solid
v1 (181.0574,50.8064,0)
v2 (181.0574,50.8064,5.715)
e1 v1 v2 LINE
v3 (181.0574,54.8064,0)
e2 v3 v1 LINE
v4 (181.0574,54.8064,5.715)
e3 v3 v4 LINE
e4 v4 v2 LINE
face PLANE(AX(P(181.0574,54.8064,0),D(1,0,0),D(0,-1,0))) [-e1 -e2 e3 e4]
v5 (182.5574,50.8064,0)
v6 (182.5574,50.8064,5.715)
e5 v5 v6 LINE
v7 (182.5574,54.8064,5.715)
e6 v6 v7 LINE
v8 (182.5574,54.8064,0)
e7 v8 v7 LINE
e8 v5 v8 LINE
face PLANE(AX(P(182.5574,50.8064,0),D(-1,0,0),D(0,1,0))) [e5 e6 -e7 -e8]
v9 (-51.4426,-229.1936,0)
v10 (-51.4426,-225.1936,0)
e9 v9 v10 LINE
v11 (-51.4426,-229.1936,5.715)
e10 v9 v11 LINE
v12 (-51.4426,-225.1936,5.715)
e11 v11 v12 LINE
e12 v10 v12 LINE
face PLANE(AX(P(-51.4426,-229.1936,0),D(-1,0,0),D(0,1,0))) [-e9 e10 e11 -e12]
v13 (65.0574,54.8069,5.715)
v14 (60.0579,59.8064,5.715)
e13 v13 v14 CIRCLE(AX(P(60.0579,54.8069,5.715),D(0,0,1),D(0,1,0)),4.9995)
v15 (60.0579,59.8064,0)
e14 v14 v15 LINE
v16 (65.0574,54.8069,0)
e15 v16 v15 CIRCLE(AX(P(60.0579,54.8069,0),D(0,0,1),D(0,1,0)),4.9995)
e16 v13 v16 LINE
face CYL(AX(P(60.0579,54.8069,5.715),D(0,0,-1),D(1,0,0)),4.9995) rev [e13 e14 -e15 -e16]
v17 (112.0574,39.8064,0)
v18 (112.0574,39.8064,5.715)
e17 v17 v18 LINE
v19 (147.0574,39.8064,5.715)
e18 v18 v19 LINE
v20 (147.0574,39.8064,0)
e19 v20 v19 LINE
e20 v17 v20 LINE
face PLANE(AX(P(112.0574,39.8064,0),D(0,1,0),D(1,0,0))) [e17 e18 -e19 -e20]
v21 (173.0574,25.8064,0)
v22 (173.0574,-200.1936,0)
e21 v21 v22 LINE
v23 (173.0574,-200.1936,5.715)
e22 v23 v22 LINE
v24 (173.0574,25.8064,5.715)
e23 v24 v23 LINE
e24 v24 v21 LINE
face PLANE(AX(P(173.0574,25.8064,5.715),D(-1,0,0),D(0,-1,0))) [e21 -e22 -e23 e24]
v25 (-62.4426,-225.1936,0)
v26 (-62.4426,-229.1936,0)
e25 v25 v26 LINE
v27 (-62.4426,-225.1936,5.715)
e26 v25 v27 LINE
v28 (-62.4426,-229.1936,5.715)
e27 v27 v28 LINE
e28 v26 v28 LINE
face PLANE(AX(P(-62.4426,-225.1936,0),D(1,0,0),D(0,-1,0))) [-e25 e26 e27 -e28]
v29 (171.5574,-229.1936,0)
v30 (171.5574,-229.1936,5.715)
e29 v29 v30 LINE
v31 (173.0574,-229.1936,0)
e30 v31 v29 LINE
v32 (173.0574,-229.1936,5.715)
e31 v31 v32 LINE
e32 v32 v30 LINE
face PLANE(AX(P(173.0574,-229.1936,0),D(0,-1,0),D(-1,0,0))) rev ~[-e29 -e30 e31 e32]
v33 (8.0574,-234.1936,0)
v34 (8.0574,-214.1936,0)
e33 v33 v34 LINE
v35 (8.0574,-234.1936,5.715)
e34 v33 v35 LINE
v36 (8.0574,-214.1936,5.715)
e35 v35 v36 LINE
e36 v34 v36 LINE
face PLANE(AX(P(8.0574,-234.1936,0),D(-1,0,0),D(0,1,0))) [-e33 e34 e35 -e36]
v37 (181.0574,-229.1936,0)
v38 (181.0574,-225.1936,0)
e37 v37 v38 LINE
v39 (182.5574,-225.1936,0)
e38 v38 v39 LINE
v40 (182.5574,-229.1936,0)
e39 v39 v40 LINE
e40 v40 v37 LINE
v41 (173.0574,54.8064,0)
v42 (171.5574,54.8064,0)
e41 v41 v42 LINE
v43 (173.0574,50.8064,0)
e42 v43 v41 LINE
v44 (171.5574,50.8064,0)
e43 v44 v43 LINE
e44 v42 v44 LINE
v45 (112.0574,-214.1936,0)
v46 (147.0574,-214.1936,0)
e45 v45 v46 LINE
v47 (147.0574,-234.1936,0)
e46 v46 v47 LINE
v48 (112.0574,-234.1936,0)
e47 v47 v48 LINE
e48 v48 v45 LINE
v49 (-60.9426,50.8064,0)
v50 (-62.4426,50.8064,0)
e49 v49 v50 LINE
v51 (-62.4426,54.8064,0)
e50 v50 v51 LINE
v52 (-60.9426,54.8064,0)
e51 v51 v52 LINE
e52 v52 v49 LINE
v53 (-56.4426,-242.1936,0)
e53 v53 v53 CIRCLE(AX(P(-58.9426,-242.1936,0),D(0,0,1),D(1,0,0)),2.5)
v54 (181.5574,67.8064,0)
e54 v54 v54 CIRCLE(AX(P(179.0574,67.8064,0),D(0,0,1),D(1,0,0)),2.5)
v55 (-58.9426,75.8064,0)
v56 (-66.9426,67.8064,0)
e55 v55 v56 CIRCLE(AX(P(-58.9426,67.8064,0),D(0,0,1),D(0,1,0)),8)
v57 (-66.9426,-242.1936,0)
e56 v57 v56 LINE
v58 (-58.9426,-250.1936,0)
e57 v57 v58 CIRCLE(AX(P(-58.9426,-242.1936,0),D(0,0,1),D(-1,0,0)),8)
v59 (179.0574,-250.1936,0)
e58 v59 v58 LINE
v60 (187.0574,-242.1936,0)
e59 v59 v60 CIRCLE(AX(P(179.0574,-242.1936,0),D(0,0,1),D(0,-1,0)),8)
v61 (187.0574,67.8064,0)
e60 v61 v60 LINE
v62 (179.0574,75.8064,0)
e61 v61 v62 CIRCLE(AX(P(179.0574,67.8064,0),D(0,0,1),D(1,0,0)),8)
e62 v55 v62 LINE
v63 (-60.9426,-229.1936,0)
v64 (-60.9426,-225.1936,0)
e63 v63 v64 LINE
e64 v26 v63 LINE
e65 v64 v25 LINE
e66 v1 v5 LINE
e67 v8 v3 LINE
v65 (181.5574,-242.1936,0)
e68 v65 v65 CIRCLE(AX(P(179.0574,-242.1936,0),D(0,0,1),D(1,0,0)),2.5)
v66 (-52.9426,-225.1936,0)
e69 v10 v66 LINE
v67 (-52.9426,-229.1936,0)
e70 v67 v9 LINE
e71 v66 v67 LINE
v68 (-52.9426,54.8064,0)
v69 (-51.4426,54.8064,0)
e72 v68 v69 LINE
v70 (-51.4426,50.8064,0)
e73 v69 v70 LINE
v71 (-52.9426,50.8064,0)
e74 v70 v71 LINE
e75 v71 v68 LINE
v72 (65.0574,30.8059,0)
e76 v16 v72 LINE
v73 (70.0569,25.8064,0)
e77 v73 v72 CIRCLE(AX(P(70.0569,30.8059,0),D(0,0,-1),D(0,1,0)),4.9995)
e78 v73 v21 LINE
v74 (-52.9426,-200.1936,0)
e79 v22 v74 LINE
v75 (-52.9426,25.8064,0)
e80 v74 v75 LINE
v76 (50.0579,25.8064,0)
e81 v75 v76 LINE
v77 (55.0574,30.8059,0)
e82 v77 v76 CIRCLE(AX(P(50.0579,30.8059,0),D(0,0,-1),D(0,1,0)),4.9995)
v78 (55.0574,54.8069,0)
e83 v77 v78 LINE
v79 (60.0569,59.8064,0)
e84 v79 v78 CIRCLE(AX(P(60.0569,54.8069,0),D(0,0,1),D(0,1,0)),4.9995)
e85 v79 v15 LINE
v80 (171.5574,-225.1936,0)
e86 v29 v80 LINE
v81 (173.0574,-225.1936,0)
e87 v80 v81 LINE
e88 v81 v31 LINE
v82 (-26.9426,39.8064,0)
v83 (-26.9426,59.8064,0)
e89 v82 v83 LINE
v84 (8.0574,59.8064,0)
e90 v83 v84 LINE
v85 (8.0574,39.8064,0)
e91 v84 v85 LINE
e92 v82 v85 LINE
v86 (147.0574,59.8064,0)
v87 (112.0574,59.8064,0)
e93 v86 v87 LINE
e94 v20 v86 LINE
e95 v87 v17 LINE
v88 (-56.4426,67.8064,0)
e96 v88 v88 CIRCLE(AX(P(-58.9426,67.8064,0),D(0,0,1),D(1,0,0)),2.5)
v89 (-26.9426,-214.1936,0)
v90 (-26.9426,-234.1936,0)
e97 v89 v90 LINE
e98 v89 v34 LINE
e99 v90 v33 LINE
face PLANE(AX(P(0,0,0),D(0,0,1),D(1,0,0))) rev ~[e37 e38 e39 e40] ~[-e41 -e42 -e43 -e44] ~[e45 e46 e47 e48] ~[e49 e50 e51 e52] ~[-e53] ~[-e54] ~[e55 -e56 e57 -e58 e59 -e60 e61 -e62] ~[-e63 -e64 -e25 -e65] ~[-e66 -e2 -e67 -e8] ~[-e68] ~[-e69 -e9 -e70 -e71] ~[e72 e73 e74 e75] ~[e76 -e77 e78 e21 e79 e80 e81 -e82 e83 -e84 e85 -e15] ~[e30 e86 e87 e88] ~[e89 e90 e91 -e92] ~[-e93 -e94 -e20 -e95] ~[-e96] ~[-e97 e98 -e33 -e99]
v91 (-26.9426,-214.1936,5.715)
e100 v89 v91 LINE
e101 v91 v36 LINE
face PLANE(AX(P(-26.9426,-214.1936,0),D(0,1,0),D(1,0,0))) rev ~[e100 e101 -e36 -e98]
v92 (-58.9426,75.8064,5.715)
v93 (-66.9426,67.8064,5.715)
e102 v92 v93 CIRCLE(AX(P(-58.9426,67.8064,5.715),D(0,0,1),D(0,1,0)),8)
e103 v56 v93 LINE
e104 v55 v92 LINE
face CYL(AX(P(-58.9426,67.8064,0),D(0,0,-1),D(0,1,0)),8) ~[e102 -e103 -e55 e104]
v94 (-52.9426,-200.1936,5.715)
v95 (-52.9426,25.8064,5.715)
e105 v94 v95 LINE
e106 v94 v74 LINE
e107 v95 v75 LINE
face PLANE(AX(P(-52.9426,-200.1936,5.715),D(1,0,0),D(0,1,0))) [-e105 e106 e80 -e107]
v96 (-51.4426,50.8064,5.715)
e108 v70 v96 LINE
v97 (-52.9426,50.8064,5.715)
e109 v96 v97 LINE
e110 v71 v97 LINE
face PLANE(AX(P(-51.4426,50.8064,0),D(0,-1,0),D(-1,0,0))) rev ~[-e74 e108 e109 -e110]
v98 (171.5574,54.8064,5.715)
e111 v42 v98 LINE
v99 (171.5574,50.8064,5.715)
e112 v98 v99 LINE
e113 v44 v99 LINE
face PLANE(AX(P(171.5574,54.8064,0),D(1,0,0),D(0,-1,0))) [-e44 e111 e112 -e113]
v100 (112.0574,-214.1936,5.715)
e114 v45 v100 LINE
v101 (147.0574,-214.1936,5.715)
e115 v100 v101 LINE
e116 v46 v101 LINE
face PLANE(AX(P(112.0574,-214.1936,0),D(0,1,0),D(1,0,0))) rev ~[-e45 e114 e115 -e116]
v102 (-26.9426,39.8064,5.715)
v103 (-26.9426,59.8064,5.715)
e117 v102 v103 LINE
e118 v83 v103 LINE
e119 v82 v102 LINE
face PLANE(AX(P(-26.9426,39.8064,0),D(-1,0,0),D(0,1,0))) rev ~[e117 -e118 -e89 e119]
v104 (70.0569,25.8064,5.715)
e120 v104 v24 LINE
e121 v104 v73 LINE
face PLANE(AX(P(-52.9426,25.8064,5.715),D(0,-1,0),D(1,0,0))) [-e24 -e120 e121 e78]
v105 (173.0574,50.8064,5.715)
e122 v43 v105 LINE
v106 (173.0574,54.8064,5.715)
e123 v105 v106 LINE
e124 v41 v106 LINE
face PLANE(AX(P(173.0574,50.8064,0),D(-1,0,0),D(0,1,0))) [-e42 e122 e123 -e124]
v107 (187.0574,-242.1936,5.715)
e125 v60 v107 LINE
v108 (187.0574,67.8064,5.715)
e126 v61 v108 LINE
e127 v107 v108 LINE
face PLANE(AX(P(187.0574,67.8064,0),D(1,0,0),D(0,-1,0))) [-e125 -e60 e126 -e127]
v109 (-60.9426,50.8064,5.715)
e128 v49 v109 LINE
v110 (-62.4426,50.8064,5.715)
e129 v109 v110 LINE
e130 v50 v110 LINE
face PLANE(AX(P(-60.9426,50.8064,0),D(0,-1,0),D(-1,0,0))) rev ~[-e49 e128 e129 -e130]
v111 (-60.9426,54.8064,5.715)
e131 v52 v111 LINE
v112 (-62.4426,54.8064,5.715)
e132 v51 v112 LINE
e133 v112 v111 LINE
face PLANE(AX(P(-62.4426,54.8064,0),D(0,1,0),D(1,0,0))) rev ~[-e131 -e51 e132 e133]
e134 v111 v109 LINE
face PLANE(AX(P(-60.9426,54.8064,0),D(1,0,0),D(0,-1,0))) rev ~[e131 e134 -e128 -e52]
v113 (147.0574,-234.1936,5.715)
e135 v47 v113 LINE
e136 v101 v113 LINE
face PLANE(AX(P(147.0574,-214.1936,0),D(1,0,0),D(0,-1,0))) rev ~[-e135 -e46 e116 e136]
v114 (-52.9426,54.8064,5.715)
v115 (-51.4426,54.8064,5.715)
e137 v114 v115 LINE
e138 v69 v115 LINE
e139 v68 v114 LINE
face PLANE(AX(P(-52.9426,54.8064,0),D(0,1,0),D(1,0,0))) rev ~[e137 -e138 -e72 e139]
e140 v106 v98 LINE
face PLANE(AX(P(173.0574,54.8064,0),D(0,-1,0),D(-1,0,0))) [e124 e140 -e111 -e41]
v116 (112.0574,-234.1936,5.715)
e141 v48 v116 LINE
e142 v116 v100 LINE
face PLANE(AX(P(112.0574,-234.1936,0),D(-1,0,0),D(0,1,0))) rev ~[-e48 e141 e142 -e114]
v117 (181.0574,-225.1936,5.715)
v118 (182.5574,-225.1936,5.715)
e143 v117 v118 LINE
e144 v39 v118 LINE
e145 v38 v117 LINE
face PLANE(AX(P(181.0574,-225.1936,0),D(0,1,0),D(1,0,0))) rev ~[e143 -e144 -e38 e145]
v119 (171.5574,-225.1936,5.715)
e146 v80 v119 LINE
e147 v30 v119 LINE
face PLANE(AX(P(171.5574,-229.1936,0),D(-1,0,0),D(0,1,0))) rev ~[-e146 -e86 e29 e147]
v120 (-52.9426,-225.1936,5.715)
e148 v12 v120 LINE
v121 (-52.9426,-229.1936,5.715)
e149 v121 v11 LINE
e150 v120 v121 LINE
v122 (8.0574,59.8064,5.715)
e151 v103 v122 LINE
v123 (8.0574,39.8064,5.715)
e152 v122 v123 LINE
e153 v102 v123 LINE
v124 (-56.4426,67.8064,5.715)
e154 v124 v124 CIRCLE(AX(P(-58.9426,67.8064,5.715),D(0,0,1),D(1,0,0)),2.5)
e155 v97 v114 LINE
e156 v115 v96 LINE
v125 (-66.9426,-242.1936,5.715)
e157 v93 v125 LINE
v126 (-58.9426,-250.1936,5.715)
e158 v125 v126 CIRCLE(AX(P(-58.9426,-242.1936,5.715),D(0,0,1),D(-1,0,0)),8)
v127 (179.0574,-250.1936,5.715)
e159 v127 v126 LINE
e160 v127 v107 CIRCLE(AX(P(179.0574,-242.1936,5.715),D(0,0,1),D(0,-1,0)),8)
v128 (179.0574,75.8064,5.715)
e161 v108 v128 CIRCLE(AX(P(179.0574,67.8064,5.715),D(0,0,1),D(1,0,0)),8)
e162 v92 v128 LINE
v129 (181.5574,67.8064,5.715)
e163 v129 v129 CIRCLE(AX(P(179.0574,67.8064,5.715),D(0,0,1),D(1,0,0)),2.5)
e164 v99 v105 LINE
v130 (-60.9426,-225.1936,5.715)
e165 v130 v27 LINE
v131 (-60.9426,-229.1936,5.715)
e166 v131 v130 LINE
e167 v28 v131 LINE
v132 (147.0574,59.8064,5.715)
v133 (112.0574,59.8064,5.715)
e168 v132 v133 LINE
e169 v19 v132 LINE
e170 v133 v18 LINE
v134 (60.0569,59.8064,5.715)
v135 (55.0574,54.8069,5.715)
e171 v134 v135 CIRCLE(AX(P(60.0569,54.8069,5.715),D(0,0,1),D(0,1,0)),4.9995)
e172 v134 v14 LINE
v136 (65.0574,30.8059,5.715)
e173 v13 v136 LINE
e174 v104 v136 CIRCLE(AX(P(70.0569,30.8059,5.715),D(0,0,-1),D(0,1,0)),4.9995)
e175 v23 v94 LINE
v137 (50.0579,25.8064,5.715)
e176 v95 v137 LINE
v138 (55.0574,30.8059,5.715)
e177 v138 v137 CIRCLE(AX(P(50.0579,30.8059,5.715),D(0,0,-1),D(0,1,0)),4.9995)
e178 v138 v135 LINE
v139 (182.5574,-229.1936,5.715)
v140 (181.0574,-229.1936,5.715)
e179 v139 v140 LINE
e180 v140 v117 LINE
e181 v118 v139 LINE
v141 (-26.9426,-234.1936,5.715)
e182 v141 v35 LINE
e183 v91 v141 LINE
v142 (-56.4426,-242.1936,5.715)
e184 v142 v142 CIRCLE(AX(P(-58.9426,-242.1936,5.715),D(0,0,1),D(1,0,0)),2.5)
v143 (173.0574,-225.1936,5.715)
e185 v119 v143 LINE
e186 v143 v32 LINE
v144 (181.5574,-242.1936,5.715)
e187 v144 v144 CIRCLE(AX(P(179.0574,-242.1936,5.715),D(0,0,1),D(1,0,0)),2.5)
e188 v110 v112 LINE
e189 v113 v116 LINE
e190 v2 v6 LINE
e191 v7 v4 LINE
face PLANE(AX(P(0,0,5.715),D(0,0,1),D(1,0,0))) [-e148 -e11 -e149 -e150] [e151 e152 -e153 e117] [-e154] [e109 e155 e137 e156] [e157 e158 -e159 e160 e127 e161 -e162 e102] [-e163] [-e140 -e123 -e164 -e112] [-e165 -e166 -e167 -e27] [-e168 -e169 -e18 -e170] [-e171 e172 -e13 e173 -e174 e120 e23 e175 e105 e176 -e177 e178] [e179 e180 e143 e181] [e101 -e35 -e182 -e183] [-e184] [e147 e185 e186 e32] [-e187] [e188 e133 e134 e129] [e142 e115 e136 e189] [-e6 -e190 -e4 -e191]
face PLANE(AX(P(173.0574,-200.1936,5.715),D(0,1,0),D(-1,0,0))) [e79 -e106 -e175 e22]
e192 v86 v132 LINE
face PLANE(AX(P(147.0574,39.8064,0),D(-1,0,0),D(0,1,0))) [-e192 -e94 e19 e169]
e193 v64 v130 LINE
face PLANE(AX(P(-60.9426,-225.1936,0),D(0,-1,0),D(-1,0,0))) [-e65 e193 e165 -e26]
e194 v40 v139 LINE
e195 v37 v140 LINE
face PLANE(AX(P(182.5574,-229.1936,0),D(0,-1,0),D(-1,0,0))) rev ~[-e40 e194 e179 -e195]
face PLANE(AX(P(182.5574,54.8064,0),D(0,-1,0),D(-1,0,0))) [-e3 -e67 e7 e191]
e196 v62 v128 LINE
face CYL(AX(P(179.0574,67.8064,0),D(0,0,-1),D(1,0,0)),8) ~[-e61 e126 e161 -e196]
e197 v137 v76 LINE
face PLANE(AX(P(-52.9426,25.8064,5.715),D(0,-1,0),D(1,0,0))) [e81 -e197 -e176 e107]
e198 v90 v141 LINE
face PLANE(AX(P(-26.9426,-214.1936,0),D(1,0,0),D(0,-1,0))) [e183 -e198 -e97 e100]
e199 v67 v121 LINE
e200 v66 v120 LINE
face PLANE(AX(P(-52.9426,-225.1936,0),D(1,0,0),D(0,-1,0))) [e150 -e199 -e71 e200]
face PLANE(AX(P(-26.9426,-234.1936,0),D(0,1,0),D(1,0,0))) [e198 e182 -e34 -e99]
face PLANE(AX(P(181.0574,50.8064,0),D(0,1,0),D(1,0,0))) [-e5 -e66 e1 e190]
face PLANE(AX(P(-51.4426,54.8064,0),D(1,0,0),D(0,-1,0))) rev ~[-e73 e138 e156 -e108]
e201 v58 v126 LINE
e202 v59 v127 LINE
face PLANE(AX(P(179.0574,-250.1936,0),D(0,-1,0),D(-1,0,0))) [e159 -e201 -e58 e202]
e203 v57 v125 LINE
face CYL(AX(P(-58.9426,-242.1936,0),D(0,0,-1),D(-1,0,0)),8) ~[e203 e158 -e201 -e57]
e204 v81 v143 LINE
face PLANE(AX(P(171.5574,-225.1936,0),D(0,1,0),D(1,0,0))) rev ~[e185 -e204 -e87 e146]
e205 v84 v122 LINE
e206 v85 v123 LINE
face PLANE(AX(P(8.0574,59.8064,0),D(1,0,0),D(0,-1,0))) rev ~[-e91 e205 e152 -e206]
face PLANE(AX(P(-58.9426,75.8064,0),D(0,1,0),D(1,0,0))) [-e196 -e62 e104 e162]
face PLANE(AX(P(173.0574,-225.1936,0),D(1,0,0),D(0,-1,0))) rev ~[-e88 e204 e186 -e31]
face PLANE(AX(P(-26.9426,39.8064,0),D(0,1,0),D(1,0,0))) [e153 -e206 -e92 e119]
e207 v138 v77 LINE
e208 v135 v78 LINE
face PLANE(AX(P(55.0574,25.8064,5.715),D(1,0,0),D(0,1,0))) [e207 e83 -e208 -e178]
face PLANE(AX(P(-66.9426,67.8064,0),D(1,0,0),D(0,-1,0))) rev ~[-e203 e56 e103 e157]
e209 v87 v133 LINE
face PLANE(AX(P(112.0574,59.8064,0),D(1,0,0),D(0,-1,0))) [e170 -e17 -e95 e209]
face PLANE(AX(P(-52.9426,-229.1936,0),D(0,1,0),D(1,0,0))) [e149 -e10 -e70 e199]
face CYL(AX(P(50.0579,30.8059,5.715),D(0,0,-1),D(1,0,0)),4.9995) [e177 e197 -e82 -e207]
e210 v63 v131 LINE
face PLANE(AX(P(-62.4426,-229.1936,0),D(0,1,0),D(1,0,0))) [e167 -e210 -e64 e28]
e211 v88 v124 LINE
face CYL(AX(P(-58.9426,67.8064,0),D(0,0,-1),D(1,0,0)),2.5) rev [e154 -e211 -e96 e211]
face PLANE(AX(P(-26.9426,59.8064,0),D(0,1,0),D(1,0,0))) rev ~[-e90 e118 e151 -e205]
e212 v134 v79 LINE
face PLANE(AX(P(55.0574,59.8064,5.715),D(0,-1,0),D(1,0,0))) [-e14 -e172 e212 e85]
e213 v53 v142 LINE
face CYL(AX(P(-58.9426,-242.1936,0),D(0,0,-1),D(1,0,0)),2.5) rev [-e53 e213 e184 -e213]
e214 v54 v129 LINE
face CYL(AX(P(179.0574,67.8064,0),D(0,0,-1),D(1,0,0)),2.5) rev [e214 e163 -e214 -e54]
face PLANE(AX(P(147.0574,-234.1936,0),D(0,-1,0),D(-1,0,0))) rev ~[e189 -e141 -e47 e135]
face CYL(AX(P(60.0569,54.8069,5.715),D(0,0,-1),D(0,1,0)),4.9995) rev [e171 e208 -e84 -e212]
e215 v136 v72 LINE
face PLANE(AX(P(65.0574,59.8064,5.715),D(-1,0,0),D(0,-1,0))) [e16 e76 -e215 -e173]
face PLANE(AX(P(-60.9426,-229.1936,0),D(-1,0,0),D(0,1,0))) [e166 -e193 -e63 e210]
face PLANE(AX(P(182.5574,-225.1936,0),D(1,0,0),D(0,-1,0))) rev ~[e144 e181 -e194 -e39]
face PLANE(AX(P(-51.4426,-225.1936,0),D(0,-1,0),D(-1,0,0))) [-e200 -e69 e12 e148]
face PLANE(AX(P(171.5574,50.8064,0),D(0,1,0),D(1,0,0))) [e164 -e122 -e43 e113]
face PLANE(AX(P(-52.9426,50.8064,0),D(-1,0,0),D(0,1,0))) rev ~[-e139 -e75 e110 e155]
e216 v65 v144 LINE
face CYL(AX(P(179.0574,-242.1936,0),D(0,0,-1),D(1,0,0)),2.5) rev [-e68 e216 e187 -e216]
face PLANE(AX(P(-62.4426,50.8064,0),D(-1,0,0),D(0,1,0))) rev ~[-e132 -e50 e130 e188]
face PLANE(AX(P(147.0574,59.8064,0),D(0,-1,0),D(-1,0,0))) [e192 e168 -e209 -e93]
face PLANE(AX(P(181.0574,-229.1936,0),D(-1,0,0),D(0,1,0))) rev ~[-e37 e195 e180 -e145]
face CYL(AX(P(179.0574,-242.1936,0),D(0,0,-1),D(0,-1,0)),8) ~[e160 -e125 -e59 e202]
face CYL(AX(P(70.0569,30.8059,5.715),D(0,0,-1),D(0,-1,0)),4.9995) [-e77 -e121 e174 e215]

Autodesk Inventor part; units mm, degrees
ref_plane "YZ Plane" through (0, 0, 0) normal (1, 0, 0) x (0, 1, 0)
ref_plane "XZ Plane" through (0, 0, 0) normal (0, 1, 0) x (-1, 0, 0)
ref_plane "XY Plane" through (0, 0, 0) normal (0, 0, 1) x (1, 0, 0)
sketch "Sketch3" plane through (0, 0, 0) normal (0, 0, 1) x (1, 0, 0)
  line L0 (181.0574, -229.1936) -> (181.0574, -225.1936) projected
  line L1 (181.0574, -225.1936) -> (182.5574, -225.1936) projected
  line L2 (182.5574, -225.1936) -> (182.5574, -229.1936) projected
  line L3 (182.5574, -229.1936) -> (181.0574, -229.1936) projected
  line L4 (171.5574, -229.1936) -> (171.5574, -225.1936) projected
  line L5 (171.5574, -225.1936) -> (173.0574, -225.1936) projected
  line L6 (173.0574, -225.1936) -> (173.0574, -229.1936) projected
  line L7 (173.0574, -229.1936) -> (171.5574, -229.1936) projected
  circle A0 centre (179.0574, -242.1936) radius 2.5 projected
  line L8 (112.0574, -234.1936) -> (112.0574, -194.1936) projected
  line L9 (112.0574, -194.1936) -> (147.0574, -194.1936) projected
  line L10 (147.0574, -194.1936) -> (147.0574, -234.1936) projected
  line L11 (147.0574, -234.1936) -> (112.0574, -234.1936) projected
  line L12 (181.0574, 54.8064) -> (181.0574, 50.8064) projected
  line L13 (182.5574, 54.8064) -> (181.0574, 54.8064) projected
  line L14 (182.5574, 50.8064) -> (182.5574, 54.8064) projected
  line L15 (181.0574, 50.8064) -> (182.5574, 50.8064) projected
  line L16 (171.5574, 54.8064) -> (171.5574, 50.8064) projected
  line L17 (173.0574, 54.8064) -> (171.5574, 54.8064) projected
  line L18 (173.0574, 50.8064) -> (173.0574, 54.8064) projected
  line L19 (171.5574, 50.8064) -> (173.0574, 50.8064) projected
  circle A1 centre (179.0574, 67.8064) radius 2.5 projected
  line L20 (112.0574, 59.8064) -> (112.0574, 19.8064) projected
  line L21 (147.0574, 59.8064) -> (112.0574, 59.8064) projected
  line L22 (147.0574, 19.8064) -> (147.0574, 59.8064) projected
  line L23 (112.0574, 19.8064) -> (147.0574, 19.8064) projected
  line L24 (-60.9426, -229.1936) -> (-60.9426, -225.1936) projected
  line L25 (-62.4426, -229.1936) -> (-60.9426, -229.1936) projected
  line L26 (-62.4426, -225.1936) -> (-62.4426, -229.1936) projected
  line L27 (-60.9426, -225.1936) -> (-62.4426, -225.1936) projected
  line L28 (-51.4426, -229.1936) -> (-51.4426, -225.1936) projected
  line L29 (-52.9426, -229.1936) -> (-51.4426, -229.1936) projected
  line L30 (-52.9426, -225.1936) -> (-52.9426, -229.1936) projected
  line L31 (-51.4426, -225.1936) -> (-52.9426, -225.1936) projected
  circle A2 centre (-58.9426, -242.1936) radius 2.5 projected
  line L32 (8.0574, -234.1936) -> (8.0574, -194.1936) projected
  line L33 (-26.9426, -234.1936) -> (8.0574, -234.1936) projected
  line L34 (-26.9426, -194.1936) -> (-26.9426, -234.1936) projected
  line L35 (8.0574, -194.1936) -> (-26.9426, -194.1936) projected
  arc A3 (-66.9426, 49.8064) -> (-64.9426, 47.8064) centre (-64.9426, 49.8064) ccw projected
  line L36 (-64.9426, 47.8064) -> (-58.9426, 47.8064) projected
  line L37 (-58.9426, 47.8064) -> (-58.9426, 57.8064) projected
  line L38 (-58.9426, 57.8064) -> (-54.9426, 57.8064) projected
  line L39 (-54.9426, 57.8064) -> (-54.9426, 47.8064) projected
  line L40 (-54.9426, 47.8064) -> (-48.9426, 47.8064) projected
  arc A4 (-46.9426, 45.8064) -> (-48.9426, 47.8064) centre (-48.9426, 45.8064) ccw projected
  line L41 (-46.9426, 45.8064) -> (-46.9426, -220.1936) projected
  arc A5 (-48.9426, -222.1936) -> (-46.9426, -220.1936) centre (-48.9426, -220.1936) ccw projected
  line L42 (-54.9426, -222.1936) -> (-48.9426, -222.1936) projected
  line L43 (-54.9426, -232.1936) -> (-54.9426, -222.1936) projected
  line L44 (-58.9426, -232.1936) -> (-54.9426, -232.1936) projected
  line L45 (-58.9426, -222.1936) -> (-58.9426, -232.1936) projected
  line L46 (-64.9426, -222.1936) -> (-58.9426, -222.1936) projected
  arc A6 (-64.9426, -222.1936) -> (-66.9426, -224.1936) centre (-64.9426, -224.1936) ccw projected
  line L47 (-66.9426, -242.1936) -> (-66.9426, -224.1936) projected
  arc A7 (-66.9426, -242.1936) -> (-58.9426, -250.1936) centre (-58.9426, -242.1936) ccw projected
  line L48 (179.0574, -250.1936) -> (-58.9426, -250.1936) projected
  arc A8 (179.0574, -250.1936) -> (187.0574, -242.1936) centre (179.0574, -242.1936) ccw projected
  line L49 (187.0574, -242.1936) -> (187.0574, -224.1936) projected
  arc A9 (187.0574, -224.1936) -> (185.0574, -222.1936) centre (185.0574, -224.1936) ccw projected
  line L50 (185.0574, -222.1936) -> (179.0574, -222.1936) projected
  line L51 (179.0574, -222.1936) -> (179.0574, -232.1936) projected
  line L52 (179.0574, -232.1936) -> (175.0574, -232.1936) projected
  line L53 (175.0574, -232.1936) -> (175.0574, -222.1936) projected
  line L54 (175.0574, -222.1936) -> (169.0574, -222.1936) projected
  arc A10 (167.0574, -220.1936) -> (169.0574, -222.1936) centre (169.0574, -220.1936) ccw projected
  line L55 (167.0574, -220.1936) -> (167.0574, 45.8064) projected
  arc A11 (169.0574, 47.8064) -> (167.0574, 45.8064) centre (169.0574, 45.8064) ccw projected
  line L56 (175.0574, 47.8064) -> (169.0574, 47.8064) projected
  line L57 (175.0574, 57.8064) -> (175.0574, 47.8064) projected
  line L58 (179.0574, 57.8064) -> (175.0574, 57.8064) projected
  line L59 (179.0574, 47.8064) -> (179.0574, 57.8064) projected
  line L60 (185.0574, 47.8064) -> (179.0574, 47.8064) projected
  arc A12 (185.0574, 47.8064) -> (187.0574, 49.8064) centre (185.0574, 49.8064) ccw projected
  line L61 (187.0574, 67.8064) -> (187.0574, 49.8064) projected
  arc A13 (187.0574, 67.8064) -> (179.0574, 75.8064) centre (179.0574, 67.8064) ccw projected
  line L62 (-58.9426, 75.8064) -> (179.0574, 75.8064) projected
  arc A14 (-58.9426, 75.8064) -> (-66.9426, 67.8064) centre (-58.9426, 67.8064) ccw projected
  line L63 (-66.9426, 67.8064) -> (-66.9426, 49.8064) projected
  line L64 (8.0574, 59.8064) -> (8.0574, 19.8064) projected
  line L65 (8.0574, 19.8064) -> (-26.9426, 19.8064) projected
  line L66 (-26.9426, 19.8064) -> (-26.9426, 59.8064) projected
  line L67 (-26.9426, 59.8064) -> (8.0574, 59.8064) projected
  circle A15 centre (-58.9426, 67.8064) radius 2.5 projected
  line L68 (-51.4426, 54.8064) -> (-51.4426, 50.8064) projected
  line L69 (-51.4426, 50.8064) -> (-52.9426, 50.8064) projected
  line L70 (-52.9426, 50.8064) -> (-52.9426, 54.8064) projected
  line L71 (-52.9426, 54.8064) -> (-51.4426, 54.8064) projected
  line L72 (-60.9426, 54.8064) -> (-60.9426, 50.8064) projected
  line L73 (-60.9426, 50.8064) -> (-62.4426, 50.8064) projected
  line L74 (-62.4426, 50.8064) -> (-62.4426, 54.8064) projected
  line L75 (-62.4426, 54.8064) -> (-60.9426, 54.8064) projected
  line L76 (-66.9426, 49.8064) -> (-66.9426, -224.1936)
  line L77 (187.0574, -224.1936) -> (187.0574, 49.8064)
  line L78 (-26.9426, 39.8064) -> (8.0574, 39.8064)
  line L79 (112.0574, 39.8064) -> (147.0574, 39.8064)
  line L80 (-26.9426, -214.1936) -> (8.0574, -214.1936)
  line L81 (112.0574, -214.1936) -> (147.0574, -214.1936)
  line L82 (65.0574, 54.8064) -> (65.0574, 30.8064) projected
  arc A16 (65.0574, 30.8064) -> (70.0574, 25.8064) centre (70.0574, 30.8064) ccw projected
  line L83 (70.0574, 25.8064) -> (72.5574, 25.8064) projected
  line L84 (72.5574, 25.8064) -> (72.5574, 13.3064) projected
  arc A17 (47.5574, 13.3064) -> (72.5574, 13.3064) centre (60.0574, 13.3064) ccw projected
  line L85 (47.5574, 13.3064) -> (47.5574, 25.8064) projected
  line L86 (47.5574, 25.8064) -> (50.0574, 25.8064) projected
  arc A18 (50.0574, 25.8064) -> (55.0574, 30.8064) centre (50.0574, 30.8064) ccw projected
  line L87 (55.0574, 30.8064) -> (55.0574, 54.8064) projected
  arc A19 (65.0574, 54.8064) -> (55.0574, 54.8064) centre (60.0574, 54.8064) ccw projected
  point P0 (0, 0)
extrude "Extrusion3" add sketch "Sketch3" along normal blind 5.715 contours L8 L9 L10 L81 | L79 L22 L23 L20 | L80 L34 L35 L32 | L63 A14 L62 A13 L61 A12 L60 L59 L58 L57 L56 A11 L55 A10 L54 L53 L52 L51 L50 A9 L49 A8 L48 A7 L47 A6 L46 L45 L44 L43 L42 A5 L41 A4 L40 L39 L38 L37 L36 A3 | A3 L36 L37 L38 L39 L40 A4 L41 A5 L42 L43 L44 L45 L46 A6 L76 | L77 A9 L50 L51 L52 L53 L54 A10 L55 A11 L56 L57 L58 L59 L60 A12 | L64 L65 L66 L78 | L82 A16 L83 L84 A17 L85 L86 A18 L87 A19
sketch "Sketch4" plane through (0, 0, 5.715) normal (0, 0, 1) x (1, 0, 0)
  line L0 (187.0574, -242.1936) -> (187.0574, 67.8064) projected
  line L1 (179.0574, 75.8064) -> (-58.9426, 75.8064) projected
  line L2 (-52.9426, 25.8064) -> (173.0574, 25.8064)
  line L3 (173.0574, 25.8064) -> (173.0574, -200.1936)
  line L4 (173.0574, -200.1936) -> (-52.9426, -200.1936)
  line L5 (-52.9426, -200.1936) -> (-52.9426, 25.8064)
  point P0 (0, 0)
  point P1 (60.0574, 25.8064)
  point P2 (60.0574, 75.8064)
  point P3 (173.0574, -87.1936)
  point P4 (187.0574, -87.1936)
  dimension "d8" = 226
extrude "Extrusion4" cut sketch "Sketch4" against normal through all
sketch "Sketch5" plane through (0, 0, 5.715) normal (0, 0, 1) x (1, 0, 0)
  line L0 (-52.9426, 25.8064) -> (173.0574, 25.8064) projected
  line L1 (147.0574, 39.8064) -> (112.0574, 39.8064) projected
  line L2 (179.0574, 75.8064) -> (-58.9426, 75.8064) projected
  line L3 (55.0574, 25.8064) -> (55.0574, 59.8064)
  line L4 (55.0574, 59.8064) -> (65.0574, 59.8064)
  line L5 (65.0574, 59.8064) -> (65.0574, 25.8064)
  point P0 (0, 0)
  point P1 (60.0574, 59.8064)
  point P2 (60.0574, 25.8064)
  dimension "d12" = 10
  dimension "d15" = 20
extrude "Extrusion5" cut sketch "Sketch5" against normal through all
fillet "Fillet1" radius 5 4 edges at (55.0574, 25.8064, 2.8575) (55.0574, 59.8064, 2.8575) (65.0574, 59.8064, 2.8575) (65.0574, 25.8064, 2.8575)
properties part number "BED PLATE TOP"
